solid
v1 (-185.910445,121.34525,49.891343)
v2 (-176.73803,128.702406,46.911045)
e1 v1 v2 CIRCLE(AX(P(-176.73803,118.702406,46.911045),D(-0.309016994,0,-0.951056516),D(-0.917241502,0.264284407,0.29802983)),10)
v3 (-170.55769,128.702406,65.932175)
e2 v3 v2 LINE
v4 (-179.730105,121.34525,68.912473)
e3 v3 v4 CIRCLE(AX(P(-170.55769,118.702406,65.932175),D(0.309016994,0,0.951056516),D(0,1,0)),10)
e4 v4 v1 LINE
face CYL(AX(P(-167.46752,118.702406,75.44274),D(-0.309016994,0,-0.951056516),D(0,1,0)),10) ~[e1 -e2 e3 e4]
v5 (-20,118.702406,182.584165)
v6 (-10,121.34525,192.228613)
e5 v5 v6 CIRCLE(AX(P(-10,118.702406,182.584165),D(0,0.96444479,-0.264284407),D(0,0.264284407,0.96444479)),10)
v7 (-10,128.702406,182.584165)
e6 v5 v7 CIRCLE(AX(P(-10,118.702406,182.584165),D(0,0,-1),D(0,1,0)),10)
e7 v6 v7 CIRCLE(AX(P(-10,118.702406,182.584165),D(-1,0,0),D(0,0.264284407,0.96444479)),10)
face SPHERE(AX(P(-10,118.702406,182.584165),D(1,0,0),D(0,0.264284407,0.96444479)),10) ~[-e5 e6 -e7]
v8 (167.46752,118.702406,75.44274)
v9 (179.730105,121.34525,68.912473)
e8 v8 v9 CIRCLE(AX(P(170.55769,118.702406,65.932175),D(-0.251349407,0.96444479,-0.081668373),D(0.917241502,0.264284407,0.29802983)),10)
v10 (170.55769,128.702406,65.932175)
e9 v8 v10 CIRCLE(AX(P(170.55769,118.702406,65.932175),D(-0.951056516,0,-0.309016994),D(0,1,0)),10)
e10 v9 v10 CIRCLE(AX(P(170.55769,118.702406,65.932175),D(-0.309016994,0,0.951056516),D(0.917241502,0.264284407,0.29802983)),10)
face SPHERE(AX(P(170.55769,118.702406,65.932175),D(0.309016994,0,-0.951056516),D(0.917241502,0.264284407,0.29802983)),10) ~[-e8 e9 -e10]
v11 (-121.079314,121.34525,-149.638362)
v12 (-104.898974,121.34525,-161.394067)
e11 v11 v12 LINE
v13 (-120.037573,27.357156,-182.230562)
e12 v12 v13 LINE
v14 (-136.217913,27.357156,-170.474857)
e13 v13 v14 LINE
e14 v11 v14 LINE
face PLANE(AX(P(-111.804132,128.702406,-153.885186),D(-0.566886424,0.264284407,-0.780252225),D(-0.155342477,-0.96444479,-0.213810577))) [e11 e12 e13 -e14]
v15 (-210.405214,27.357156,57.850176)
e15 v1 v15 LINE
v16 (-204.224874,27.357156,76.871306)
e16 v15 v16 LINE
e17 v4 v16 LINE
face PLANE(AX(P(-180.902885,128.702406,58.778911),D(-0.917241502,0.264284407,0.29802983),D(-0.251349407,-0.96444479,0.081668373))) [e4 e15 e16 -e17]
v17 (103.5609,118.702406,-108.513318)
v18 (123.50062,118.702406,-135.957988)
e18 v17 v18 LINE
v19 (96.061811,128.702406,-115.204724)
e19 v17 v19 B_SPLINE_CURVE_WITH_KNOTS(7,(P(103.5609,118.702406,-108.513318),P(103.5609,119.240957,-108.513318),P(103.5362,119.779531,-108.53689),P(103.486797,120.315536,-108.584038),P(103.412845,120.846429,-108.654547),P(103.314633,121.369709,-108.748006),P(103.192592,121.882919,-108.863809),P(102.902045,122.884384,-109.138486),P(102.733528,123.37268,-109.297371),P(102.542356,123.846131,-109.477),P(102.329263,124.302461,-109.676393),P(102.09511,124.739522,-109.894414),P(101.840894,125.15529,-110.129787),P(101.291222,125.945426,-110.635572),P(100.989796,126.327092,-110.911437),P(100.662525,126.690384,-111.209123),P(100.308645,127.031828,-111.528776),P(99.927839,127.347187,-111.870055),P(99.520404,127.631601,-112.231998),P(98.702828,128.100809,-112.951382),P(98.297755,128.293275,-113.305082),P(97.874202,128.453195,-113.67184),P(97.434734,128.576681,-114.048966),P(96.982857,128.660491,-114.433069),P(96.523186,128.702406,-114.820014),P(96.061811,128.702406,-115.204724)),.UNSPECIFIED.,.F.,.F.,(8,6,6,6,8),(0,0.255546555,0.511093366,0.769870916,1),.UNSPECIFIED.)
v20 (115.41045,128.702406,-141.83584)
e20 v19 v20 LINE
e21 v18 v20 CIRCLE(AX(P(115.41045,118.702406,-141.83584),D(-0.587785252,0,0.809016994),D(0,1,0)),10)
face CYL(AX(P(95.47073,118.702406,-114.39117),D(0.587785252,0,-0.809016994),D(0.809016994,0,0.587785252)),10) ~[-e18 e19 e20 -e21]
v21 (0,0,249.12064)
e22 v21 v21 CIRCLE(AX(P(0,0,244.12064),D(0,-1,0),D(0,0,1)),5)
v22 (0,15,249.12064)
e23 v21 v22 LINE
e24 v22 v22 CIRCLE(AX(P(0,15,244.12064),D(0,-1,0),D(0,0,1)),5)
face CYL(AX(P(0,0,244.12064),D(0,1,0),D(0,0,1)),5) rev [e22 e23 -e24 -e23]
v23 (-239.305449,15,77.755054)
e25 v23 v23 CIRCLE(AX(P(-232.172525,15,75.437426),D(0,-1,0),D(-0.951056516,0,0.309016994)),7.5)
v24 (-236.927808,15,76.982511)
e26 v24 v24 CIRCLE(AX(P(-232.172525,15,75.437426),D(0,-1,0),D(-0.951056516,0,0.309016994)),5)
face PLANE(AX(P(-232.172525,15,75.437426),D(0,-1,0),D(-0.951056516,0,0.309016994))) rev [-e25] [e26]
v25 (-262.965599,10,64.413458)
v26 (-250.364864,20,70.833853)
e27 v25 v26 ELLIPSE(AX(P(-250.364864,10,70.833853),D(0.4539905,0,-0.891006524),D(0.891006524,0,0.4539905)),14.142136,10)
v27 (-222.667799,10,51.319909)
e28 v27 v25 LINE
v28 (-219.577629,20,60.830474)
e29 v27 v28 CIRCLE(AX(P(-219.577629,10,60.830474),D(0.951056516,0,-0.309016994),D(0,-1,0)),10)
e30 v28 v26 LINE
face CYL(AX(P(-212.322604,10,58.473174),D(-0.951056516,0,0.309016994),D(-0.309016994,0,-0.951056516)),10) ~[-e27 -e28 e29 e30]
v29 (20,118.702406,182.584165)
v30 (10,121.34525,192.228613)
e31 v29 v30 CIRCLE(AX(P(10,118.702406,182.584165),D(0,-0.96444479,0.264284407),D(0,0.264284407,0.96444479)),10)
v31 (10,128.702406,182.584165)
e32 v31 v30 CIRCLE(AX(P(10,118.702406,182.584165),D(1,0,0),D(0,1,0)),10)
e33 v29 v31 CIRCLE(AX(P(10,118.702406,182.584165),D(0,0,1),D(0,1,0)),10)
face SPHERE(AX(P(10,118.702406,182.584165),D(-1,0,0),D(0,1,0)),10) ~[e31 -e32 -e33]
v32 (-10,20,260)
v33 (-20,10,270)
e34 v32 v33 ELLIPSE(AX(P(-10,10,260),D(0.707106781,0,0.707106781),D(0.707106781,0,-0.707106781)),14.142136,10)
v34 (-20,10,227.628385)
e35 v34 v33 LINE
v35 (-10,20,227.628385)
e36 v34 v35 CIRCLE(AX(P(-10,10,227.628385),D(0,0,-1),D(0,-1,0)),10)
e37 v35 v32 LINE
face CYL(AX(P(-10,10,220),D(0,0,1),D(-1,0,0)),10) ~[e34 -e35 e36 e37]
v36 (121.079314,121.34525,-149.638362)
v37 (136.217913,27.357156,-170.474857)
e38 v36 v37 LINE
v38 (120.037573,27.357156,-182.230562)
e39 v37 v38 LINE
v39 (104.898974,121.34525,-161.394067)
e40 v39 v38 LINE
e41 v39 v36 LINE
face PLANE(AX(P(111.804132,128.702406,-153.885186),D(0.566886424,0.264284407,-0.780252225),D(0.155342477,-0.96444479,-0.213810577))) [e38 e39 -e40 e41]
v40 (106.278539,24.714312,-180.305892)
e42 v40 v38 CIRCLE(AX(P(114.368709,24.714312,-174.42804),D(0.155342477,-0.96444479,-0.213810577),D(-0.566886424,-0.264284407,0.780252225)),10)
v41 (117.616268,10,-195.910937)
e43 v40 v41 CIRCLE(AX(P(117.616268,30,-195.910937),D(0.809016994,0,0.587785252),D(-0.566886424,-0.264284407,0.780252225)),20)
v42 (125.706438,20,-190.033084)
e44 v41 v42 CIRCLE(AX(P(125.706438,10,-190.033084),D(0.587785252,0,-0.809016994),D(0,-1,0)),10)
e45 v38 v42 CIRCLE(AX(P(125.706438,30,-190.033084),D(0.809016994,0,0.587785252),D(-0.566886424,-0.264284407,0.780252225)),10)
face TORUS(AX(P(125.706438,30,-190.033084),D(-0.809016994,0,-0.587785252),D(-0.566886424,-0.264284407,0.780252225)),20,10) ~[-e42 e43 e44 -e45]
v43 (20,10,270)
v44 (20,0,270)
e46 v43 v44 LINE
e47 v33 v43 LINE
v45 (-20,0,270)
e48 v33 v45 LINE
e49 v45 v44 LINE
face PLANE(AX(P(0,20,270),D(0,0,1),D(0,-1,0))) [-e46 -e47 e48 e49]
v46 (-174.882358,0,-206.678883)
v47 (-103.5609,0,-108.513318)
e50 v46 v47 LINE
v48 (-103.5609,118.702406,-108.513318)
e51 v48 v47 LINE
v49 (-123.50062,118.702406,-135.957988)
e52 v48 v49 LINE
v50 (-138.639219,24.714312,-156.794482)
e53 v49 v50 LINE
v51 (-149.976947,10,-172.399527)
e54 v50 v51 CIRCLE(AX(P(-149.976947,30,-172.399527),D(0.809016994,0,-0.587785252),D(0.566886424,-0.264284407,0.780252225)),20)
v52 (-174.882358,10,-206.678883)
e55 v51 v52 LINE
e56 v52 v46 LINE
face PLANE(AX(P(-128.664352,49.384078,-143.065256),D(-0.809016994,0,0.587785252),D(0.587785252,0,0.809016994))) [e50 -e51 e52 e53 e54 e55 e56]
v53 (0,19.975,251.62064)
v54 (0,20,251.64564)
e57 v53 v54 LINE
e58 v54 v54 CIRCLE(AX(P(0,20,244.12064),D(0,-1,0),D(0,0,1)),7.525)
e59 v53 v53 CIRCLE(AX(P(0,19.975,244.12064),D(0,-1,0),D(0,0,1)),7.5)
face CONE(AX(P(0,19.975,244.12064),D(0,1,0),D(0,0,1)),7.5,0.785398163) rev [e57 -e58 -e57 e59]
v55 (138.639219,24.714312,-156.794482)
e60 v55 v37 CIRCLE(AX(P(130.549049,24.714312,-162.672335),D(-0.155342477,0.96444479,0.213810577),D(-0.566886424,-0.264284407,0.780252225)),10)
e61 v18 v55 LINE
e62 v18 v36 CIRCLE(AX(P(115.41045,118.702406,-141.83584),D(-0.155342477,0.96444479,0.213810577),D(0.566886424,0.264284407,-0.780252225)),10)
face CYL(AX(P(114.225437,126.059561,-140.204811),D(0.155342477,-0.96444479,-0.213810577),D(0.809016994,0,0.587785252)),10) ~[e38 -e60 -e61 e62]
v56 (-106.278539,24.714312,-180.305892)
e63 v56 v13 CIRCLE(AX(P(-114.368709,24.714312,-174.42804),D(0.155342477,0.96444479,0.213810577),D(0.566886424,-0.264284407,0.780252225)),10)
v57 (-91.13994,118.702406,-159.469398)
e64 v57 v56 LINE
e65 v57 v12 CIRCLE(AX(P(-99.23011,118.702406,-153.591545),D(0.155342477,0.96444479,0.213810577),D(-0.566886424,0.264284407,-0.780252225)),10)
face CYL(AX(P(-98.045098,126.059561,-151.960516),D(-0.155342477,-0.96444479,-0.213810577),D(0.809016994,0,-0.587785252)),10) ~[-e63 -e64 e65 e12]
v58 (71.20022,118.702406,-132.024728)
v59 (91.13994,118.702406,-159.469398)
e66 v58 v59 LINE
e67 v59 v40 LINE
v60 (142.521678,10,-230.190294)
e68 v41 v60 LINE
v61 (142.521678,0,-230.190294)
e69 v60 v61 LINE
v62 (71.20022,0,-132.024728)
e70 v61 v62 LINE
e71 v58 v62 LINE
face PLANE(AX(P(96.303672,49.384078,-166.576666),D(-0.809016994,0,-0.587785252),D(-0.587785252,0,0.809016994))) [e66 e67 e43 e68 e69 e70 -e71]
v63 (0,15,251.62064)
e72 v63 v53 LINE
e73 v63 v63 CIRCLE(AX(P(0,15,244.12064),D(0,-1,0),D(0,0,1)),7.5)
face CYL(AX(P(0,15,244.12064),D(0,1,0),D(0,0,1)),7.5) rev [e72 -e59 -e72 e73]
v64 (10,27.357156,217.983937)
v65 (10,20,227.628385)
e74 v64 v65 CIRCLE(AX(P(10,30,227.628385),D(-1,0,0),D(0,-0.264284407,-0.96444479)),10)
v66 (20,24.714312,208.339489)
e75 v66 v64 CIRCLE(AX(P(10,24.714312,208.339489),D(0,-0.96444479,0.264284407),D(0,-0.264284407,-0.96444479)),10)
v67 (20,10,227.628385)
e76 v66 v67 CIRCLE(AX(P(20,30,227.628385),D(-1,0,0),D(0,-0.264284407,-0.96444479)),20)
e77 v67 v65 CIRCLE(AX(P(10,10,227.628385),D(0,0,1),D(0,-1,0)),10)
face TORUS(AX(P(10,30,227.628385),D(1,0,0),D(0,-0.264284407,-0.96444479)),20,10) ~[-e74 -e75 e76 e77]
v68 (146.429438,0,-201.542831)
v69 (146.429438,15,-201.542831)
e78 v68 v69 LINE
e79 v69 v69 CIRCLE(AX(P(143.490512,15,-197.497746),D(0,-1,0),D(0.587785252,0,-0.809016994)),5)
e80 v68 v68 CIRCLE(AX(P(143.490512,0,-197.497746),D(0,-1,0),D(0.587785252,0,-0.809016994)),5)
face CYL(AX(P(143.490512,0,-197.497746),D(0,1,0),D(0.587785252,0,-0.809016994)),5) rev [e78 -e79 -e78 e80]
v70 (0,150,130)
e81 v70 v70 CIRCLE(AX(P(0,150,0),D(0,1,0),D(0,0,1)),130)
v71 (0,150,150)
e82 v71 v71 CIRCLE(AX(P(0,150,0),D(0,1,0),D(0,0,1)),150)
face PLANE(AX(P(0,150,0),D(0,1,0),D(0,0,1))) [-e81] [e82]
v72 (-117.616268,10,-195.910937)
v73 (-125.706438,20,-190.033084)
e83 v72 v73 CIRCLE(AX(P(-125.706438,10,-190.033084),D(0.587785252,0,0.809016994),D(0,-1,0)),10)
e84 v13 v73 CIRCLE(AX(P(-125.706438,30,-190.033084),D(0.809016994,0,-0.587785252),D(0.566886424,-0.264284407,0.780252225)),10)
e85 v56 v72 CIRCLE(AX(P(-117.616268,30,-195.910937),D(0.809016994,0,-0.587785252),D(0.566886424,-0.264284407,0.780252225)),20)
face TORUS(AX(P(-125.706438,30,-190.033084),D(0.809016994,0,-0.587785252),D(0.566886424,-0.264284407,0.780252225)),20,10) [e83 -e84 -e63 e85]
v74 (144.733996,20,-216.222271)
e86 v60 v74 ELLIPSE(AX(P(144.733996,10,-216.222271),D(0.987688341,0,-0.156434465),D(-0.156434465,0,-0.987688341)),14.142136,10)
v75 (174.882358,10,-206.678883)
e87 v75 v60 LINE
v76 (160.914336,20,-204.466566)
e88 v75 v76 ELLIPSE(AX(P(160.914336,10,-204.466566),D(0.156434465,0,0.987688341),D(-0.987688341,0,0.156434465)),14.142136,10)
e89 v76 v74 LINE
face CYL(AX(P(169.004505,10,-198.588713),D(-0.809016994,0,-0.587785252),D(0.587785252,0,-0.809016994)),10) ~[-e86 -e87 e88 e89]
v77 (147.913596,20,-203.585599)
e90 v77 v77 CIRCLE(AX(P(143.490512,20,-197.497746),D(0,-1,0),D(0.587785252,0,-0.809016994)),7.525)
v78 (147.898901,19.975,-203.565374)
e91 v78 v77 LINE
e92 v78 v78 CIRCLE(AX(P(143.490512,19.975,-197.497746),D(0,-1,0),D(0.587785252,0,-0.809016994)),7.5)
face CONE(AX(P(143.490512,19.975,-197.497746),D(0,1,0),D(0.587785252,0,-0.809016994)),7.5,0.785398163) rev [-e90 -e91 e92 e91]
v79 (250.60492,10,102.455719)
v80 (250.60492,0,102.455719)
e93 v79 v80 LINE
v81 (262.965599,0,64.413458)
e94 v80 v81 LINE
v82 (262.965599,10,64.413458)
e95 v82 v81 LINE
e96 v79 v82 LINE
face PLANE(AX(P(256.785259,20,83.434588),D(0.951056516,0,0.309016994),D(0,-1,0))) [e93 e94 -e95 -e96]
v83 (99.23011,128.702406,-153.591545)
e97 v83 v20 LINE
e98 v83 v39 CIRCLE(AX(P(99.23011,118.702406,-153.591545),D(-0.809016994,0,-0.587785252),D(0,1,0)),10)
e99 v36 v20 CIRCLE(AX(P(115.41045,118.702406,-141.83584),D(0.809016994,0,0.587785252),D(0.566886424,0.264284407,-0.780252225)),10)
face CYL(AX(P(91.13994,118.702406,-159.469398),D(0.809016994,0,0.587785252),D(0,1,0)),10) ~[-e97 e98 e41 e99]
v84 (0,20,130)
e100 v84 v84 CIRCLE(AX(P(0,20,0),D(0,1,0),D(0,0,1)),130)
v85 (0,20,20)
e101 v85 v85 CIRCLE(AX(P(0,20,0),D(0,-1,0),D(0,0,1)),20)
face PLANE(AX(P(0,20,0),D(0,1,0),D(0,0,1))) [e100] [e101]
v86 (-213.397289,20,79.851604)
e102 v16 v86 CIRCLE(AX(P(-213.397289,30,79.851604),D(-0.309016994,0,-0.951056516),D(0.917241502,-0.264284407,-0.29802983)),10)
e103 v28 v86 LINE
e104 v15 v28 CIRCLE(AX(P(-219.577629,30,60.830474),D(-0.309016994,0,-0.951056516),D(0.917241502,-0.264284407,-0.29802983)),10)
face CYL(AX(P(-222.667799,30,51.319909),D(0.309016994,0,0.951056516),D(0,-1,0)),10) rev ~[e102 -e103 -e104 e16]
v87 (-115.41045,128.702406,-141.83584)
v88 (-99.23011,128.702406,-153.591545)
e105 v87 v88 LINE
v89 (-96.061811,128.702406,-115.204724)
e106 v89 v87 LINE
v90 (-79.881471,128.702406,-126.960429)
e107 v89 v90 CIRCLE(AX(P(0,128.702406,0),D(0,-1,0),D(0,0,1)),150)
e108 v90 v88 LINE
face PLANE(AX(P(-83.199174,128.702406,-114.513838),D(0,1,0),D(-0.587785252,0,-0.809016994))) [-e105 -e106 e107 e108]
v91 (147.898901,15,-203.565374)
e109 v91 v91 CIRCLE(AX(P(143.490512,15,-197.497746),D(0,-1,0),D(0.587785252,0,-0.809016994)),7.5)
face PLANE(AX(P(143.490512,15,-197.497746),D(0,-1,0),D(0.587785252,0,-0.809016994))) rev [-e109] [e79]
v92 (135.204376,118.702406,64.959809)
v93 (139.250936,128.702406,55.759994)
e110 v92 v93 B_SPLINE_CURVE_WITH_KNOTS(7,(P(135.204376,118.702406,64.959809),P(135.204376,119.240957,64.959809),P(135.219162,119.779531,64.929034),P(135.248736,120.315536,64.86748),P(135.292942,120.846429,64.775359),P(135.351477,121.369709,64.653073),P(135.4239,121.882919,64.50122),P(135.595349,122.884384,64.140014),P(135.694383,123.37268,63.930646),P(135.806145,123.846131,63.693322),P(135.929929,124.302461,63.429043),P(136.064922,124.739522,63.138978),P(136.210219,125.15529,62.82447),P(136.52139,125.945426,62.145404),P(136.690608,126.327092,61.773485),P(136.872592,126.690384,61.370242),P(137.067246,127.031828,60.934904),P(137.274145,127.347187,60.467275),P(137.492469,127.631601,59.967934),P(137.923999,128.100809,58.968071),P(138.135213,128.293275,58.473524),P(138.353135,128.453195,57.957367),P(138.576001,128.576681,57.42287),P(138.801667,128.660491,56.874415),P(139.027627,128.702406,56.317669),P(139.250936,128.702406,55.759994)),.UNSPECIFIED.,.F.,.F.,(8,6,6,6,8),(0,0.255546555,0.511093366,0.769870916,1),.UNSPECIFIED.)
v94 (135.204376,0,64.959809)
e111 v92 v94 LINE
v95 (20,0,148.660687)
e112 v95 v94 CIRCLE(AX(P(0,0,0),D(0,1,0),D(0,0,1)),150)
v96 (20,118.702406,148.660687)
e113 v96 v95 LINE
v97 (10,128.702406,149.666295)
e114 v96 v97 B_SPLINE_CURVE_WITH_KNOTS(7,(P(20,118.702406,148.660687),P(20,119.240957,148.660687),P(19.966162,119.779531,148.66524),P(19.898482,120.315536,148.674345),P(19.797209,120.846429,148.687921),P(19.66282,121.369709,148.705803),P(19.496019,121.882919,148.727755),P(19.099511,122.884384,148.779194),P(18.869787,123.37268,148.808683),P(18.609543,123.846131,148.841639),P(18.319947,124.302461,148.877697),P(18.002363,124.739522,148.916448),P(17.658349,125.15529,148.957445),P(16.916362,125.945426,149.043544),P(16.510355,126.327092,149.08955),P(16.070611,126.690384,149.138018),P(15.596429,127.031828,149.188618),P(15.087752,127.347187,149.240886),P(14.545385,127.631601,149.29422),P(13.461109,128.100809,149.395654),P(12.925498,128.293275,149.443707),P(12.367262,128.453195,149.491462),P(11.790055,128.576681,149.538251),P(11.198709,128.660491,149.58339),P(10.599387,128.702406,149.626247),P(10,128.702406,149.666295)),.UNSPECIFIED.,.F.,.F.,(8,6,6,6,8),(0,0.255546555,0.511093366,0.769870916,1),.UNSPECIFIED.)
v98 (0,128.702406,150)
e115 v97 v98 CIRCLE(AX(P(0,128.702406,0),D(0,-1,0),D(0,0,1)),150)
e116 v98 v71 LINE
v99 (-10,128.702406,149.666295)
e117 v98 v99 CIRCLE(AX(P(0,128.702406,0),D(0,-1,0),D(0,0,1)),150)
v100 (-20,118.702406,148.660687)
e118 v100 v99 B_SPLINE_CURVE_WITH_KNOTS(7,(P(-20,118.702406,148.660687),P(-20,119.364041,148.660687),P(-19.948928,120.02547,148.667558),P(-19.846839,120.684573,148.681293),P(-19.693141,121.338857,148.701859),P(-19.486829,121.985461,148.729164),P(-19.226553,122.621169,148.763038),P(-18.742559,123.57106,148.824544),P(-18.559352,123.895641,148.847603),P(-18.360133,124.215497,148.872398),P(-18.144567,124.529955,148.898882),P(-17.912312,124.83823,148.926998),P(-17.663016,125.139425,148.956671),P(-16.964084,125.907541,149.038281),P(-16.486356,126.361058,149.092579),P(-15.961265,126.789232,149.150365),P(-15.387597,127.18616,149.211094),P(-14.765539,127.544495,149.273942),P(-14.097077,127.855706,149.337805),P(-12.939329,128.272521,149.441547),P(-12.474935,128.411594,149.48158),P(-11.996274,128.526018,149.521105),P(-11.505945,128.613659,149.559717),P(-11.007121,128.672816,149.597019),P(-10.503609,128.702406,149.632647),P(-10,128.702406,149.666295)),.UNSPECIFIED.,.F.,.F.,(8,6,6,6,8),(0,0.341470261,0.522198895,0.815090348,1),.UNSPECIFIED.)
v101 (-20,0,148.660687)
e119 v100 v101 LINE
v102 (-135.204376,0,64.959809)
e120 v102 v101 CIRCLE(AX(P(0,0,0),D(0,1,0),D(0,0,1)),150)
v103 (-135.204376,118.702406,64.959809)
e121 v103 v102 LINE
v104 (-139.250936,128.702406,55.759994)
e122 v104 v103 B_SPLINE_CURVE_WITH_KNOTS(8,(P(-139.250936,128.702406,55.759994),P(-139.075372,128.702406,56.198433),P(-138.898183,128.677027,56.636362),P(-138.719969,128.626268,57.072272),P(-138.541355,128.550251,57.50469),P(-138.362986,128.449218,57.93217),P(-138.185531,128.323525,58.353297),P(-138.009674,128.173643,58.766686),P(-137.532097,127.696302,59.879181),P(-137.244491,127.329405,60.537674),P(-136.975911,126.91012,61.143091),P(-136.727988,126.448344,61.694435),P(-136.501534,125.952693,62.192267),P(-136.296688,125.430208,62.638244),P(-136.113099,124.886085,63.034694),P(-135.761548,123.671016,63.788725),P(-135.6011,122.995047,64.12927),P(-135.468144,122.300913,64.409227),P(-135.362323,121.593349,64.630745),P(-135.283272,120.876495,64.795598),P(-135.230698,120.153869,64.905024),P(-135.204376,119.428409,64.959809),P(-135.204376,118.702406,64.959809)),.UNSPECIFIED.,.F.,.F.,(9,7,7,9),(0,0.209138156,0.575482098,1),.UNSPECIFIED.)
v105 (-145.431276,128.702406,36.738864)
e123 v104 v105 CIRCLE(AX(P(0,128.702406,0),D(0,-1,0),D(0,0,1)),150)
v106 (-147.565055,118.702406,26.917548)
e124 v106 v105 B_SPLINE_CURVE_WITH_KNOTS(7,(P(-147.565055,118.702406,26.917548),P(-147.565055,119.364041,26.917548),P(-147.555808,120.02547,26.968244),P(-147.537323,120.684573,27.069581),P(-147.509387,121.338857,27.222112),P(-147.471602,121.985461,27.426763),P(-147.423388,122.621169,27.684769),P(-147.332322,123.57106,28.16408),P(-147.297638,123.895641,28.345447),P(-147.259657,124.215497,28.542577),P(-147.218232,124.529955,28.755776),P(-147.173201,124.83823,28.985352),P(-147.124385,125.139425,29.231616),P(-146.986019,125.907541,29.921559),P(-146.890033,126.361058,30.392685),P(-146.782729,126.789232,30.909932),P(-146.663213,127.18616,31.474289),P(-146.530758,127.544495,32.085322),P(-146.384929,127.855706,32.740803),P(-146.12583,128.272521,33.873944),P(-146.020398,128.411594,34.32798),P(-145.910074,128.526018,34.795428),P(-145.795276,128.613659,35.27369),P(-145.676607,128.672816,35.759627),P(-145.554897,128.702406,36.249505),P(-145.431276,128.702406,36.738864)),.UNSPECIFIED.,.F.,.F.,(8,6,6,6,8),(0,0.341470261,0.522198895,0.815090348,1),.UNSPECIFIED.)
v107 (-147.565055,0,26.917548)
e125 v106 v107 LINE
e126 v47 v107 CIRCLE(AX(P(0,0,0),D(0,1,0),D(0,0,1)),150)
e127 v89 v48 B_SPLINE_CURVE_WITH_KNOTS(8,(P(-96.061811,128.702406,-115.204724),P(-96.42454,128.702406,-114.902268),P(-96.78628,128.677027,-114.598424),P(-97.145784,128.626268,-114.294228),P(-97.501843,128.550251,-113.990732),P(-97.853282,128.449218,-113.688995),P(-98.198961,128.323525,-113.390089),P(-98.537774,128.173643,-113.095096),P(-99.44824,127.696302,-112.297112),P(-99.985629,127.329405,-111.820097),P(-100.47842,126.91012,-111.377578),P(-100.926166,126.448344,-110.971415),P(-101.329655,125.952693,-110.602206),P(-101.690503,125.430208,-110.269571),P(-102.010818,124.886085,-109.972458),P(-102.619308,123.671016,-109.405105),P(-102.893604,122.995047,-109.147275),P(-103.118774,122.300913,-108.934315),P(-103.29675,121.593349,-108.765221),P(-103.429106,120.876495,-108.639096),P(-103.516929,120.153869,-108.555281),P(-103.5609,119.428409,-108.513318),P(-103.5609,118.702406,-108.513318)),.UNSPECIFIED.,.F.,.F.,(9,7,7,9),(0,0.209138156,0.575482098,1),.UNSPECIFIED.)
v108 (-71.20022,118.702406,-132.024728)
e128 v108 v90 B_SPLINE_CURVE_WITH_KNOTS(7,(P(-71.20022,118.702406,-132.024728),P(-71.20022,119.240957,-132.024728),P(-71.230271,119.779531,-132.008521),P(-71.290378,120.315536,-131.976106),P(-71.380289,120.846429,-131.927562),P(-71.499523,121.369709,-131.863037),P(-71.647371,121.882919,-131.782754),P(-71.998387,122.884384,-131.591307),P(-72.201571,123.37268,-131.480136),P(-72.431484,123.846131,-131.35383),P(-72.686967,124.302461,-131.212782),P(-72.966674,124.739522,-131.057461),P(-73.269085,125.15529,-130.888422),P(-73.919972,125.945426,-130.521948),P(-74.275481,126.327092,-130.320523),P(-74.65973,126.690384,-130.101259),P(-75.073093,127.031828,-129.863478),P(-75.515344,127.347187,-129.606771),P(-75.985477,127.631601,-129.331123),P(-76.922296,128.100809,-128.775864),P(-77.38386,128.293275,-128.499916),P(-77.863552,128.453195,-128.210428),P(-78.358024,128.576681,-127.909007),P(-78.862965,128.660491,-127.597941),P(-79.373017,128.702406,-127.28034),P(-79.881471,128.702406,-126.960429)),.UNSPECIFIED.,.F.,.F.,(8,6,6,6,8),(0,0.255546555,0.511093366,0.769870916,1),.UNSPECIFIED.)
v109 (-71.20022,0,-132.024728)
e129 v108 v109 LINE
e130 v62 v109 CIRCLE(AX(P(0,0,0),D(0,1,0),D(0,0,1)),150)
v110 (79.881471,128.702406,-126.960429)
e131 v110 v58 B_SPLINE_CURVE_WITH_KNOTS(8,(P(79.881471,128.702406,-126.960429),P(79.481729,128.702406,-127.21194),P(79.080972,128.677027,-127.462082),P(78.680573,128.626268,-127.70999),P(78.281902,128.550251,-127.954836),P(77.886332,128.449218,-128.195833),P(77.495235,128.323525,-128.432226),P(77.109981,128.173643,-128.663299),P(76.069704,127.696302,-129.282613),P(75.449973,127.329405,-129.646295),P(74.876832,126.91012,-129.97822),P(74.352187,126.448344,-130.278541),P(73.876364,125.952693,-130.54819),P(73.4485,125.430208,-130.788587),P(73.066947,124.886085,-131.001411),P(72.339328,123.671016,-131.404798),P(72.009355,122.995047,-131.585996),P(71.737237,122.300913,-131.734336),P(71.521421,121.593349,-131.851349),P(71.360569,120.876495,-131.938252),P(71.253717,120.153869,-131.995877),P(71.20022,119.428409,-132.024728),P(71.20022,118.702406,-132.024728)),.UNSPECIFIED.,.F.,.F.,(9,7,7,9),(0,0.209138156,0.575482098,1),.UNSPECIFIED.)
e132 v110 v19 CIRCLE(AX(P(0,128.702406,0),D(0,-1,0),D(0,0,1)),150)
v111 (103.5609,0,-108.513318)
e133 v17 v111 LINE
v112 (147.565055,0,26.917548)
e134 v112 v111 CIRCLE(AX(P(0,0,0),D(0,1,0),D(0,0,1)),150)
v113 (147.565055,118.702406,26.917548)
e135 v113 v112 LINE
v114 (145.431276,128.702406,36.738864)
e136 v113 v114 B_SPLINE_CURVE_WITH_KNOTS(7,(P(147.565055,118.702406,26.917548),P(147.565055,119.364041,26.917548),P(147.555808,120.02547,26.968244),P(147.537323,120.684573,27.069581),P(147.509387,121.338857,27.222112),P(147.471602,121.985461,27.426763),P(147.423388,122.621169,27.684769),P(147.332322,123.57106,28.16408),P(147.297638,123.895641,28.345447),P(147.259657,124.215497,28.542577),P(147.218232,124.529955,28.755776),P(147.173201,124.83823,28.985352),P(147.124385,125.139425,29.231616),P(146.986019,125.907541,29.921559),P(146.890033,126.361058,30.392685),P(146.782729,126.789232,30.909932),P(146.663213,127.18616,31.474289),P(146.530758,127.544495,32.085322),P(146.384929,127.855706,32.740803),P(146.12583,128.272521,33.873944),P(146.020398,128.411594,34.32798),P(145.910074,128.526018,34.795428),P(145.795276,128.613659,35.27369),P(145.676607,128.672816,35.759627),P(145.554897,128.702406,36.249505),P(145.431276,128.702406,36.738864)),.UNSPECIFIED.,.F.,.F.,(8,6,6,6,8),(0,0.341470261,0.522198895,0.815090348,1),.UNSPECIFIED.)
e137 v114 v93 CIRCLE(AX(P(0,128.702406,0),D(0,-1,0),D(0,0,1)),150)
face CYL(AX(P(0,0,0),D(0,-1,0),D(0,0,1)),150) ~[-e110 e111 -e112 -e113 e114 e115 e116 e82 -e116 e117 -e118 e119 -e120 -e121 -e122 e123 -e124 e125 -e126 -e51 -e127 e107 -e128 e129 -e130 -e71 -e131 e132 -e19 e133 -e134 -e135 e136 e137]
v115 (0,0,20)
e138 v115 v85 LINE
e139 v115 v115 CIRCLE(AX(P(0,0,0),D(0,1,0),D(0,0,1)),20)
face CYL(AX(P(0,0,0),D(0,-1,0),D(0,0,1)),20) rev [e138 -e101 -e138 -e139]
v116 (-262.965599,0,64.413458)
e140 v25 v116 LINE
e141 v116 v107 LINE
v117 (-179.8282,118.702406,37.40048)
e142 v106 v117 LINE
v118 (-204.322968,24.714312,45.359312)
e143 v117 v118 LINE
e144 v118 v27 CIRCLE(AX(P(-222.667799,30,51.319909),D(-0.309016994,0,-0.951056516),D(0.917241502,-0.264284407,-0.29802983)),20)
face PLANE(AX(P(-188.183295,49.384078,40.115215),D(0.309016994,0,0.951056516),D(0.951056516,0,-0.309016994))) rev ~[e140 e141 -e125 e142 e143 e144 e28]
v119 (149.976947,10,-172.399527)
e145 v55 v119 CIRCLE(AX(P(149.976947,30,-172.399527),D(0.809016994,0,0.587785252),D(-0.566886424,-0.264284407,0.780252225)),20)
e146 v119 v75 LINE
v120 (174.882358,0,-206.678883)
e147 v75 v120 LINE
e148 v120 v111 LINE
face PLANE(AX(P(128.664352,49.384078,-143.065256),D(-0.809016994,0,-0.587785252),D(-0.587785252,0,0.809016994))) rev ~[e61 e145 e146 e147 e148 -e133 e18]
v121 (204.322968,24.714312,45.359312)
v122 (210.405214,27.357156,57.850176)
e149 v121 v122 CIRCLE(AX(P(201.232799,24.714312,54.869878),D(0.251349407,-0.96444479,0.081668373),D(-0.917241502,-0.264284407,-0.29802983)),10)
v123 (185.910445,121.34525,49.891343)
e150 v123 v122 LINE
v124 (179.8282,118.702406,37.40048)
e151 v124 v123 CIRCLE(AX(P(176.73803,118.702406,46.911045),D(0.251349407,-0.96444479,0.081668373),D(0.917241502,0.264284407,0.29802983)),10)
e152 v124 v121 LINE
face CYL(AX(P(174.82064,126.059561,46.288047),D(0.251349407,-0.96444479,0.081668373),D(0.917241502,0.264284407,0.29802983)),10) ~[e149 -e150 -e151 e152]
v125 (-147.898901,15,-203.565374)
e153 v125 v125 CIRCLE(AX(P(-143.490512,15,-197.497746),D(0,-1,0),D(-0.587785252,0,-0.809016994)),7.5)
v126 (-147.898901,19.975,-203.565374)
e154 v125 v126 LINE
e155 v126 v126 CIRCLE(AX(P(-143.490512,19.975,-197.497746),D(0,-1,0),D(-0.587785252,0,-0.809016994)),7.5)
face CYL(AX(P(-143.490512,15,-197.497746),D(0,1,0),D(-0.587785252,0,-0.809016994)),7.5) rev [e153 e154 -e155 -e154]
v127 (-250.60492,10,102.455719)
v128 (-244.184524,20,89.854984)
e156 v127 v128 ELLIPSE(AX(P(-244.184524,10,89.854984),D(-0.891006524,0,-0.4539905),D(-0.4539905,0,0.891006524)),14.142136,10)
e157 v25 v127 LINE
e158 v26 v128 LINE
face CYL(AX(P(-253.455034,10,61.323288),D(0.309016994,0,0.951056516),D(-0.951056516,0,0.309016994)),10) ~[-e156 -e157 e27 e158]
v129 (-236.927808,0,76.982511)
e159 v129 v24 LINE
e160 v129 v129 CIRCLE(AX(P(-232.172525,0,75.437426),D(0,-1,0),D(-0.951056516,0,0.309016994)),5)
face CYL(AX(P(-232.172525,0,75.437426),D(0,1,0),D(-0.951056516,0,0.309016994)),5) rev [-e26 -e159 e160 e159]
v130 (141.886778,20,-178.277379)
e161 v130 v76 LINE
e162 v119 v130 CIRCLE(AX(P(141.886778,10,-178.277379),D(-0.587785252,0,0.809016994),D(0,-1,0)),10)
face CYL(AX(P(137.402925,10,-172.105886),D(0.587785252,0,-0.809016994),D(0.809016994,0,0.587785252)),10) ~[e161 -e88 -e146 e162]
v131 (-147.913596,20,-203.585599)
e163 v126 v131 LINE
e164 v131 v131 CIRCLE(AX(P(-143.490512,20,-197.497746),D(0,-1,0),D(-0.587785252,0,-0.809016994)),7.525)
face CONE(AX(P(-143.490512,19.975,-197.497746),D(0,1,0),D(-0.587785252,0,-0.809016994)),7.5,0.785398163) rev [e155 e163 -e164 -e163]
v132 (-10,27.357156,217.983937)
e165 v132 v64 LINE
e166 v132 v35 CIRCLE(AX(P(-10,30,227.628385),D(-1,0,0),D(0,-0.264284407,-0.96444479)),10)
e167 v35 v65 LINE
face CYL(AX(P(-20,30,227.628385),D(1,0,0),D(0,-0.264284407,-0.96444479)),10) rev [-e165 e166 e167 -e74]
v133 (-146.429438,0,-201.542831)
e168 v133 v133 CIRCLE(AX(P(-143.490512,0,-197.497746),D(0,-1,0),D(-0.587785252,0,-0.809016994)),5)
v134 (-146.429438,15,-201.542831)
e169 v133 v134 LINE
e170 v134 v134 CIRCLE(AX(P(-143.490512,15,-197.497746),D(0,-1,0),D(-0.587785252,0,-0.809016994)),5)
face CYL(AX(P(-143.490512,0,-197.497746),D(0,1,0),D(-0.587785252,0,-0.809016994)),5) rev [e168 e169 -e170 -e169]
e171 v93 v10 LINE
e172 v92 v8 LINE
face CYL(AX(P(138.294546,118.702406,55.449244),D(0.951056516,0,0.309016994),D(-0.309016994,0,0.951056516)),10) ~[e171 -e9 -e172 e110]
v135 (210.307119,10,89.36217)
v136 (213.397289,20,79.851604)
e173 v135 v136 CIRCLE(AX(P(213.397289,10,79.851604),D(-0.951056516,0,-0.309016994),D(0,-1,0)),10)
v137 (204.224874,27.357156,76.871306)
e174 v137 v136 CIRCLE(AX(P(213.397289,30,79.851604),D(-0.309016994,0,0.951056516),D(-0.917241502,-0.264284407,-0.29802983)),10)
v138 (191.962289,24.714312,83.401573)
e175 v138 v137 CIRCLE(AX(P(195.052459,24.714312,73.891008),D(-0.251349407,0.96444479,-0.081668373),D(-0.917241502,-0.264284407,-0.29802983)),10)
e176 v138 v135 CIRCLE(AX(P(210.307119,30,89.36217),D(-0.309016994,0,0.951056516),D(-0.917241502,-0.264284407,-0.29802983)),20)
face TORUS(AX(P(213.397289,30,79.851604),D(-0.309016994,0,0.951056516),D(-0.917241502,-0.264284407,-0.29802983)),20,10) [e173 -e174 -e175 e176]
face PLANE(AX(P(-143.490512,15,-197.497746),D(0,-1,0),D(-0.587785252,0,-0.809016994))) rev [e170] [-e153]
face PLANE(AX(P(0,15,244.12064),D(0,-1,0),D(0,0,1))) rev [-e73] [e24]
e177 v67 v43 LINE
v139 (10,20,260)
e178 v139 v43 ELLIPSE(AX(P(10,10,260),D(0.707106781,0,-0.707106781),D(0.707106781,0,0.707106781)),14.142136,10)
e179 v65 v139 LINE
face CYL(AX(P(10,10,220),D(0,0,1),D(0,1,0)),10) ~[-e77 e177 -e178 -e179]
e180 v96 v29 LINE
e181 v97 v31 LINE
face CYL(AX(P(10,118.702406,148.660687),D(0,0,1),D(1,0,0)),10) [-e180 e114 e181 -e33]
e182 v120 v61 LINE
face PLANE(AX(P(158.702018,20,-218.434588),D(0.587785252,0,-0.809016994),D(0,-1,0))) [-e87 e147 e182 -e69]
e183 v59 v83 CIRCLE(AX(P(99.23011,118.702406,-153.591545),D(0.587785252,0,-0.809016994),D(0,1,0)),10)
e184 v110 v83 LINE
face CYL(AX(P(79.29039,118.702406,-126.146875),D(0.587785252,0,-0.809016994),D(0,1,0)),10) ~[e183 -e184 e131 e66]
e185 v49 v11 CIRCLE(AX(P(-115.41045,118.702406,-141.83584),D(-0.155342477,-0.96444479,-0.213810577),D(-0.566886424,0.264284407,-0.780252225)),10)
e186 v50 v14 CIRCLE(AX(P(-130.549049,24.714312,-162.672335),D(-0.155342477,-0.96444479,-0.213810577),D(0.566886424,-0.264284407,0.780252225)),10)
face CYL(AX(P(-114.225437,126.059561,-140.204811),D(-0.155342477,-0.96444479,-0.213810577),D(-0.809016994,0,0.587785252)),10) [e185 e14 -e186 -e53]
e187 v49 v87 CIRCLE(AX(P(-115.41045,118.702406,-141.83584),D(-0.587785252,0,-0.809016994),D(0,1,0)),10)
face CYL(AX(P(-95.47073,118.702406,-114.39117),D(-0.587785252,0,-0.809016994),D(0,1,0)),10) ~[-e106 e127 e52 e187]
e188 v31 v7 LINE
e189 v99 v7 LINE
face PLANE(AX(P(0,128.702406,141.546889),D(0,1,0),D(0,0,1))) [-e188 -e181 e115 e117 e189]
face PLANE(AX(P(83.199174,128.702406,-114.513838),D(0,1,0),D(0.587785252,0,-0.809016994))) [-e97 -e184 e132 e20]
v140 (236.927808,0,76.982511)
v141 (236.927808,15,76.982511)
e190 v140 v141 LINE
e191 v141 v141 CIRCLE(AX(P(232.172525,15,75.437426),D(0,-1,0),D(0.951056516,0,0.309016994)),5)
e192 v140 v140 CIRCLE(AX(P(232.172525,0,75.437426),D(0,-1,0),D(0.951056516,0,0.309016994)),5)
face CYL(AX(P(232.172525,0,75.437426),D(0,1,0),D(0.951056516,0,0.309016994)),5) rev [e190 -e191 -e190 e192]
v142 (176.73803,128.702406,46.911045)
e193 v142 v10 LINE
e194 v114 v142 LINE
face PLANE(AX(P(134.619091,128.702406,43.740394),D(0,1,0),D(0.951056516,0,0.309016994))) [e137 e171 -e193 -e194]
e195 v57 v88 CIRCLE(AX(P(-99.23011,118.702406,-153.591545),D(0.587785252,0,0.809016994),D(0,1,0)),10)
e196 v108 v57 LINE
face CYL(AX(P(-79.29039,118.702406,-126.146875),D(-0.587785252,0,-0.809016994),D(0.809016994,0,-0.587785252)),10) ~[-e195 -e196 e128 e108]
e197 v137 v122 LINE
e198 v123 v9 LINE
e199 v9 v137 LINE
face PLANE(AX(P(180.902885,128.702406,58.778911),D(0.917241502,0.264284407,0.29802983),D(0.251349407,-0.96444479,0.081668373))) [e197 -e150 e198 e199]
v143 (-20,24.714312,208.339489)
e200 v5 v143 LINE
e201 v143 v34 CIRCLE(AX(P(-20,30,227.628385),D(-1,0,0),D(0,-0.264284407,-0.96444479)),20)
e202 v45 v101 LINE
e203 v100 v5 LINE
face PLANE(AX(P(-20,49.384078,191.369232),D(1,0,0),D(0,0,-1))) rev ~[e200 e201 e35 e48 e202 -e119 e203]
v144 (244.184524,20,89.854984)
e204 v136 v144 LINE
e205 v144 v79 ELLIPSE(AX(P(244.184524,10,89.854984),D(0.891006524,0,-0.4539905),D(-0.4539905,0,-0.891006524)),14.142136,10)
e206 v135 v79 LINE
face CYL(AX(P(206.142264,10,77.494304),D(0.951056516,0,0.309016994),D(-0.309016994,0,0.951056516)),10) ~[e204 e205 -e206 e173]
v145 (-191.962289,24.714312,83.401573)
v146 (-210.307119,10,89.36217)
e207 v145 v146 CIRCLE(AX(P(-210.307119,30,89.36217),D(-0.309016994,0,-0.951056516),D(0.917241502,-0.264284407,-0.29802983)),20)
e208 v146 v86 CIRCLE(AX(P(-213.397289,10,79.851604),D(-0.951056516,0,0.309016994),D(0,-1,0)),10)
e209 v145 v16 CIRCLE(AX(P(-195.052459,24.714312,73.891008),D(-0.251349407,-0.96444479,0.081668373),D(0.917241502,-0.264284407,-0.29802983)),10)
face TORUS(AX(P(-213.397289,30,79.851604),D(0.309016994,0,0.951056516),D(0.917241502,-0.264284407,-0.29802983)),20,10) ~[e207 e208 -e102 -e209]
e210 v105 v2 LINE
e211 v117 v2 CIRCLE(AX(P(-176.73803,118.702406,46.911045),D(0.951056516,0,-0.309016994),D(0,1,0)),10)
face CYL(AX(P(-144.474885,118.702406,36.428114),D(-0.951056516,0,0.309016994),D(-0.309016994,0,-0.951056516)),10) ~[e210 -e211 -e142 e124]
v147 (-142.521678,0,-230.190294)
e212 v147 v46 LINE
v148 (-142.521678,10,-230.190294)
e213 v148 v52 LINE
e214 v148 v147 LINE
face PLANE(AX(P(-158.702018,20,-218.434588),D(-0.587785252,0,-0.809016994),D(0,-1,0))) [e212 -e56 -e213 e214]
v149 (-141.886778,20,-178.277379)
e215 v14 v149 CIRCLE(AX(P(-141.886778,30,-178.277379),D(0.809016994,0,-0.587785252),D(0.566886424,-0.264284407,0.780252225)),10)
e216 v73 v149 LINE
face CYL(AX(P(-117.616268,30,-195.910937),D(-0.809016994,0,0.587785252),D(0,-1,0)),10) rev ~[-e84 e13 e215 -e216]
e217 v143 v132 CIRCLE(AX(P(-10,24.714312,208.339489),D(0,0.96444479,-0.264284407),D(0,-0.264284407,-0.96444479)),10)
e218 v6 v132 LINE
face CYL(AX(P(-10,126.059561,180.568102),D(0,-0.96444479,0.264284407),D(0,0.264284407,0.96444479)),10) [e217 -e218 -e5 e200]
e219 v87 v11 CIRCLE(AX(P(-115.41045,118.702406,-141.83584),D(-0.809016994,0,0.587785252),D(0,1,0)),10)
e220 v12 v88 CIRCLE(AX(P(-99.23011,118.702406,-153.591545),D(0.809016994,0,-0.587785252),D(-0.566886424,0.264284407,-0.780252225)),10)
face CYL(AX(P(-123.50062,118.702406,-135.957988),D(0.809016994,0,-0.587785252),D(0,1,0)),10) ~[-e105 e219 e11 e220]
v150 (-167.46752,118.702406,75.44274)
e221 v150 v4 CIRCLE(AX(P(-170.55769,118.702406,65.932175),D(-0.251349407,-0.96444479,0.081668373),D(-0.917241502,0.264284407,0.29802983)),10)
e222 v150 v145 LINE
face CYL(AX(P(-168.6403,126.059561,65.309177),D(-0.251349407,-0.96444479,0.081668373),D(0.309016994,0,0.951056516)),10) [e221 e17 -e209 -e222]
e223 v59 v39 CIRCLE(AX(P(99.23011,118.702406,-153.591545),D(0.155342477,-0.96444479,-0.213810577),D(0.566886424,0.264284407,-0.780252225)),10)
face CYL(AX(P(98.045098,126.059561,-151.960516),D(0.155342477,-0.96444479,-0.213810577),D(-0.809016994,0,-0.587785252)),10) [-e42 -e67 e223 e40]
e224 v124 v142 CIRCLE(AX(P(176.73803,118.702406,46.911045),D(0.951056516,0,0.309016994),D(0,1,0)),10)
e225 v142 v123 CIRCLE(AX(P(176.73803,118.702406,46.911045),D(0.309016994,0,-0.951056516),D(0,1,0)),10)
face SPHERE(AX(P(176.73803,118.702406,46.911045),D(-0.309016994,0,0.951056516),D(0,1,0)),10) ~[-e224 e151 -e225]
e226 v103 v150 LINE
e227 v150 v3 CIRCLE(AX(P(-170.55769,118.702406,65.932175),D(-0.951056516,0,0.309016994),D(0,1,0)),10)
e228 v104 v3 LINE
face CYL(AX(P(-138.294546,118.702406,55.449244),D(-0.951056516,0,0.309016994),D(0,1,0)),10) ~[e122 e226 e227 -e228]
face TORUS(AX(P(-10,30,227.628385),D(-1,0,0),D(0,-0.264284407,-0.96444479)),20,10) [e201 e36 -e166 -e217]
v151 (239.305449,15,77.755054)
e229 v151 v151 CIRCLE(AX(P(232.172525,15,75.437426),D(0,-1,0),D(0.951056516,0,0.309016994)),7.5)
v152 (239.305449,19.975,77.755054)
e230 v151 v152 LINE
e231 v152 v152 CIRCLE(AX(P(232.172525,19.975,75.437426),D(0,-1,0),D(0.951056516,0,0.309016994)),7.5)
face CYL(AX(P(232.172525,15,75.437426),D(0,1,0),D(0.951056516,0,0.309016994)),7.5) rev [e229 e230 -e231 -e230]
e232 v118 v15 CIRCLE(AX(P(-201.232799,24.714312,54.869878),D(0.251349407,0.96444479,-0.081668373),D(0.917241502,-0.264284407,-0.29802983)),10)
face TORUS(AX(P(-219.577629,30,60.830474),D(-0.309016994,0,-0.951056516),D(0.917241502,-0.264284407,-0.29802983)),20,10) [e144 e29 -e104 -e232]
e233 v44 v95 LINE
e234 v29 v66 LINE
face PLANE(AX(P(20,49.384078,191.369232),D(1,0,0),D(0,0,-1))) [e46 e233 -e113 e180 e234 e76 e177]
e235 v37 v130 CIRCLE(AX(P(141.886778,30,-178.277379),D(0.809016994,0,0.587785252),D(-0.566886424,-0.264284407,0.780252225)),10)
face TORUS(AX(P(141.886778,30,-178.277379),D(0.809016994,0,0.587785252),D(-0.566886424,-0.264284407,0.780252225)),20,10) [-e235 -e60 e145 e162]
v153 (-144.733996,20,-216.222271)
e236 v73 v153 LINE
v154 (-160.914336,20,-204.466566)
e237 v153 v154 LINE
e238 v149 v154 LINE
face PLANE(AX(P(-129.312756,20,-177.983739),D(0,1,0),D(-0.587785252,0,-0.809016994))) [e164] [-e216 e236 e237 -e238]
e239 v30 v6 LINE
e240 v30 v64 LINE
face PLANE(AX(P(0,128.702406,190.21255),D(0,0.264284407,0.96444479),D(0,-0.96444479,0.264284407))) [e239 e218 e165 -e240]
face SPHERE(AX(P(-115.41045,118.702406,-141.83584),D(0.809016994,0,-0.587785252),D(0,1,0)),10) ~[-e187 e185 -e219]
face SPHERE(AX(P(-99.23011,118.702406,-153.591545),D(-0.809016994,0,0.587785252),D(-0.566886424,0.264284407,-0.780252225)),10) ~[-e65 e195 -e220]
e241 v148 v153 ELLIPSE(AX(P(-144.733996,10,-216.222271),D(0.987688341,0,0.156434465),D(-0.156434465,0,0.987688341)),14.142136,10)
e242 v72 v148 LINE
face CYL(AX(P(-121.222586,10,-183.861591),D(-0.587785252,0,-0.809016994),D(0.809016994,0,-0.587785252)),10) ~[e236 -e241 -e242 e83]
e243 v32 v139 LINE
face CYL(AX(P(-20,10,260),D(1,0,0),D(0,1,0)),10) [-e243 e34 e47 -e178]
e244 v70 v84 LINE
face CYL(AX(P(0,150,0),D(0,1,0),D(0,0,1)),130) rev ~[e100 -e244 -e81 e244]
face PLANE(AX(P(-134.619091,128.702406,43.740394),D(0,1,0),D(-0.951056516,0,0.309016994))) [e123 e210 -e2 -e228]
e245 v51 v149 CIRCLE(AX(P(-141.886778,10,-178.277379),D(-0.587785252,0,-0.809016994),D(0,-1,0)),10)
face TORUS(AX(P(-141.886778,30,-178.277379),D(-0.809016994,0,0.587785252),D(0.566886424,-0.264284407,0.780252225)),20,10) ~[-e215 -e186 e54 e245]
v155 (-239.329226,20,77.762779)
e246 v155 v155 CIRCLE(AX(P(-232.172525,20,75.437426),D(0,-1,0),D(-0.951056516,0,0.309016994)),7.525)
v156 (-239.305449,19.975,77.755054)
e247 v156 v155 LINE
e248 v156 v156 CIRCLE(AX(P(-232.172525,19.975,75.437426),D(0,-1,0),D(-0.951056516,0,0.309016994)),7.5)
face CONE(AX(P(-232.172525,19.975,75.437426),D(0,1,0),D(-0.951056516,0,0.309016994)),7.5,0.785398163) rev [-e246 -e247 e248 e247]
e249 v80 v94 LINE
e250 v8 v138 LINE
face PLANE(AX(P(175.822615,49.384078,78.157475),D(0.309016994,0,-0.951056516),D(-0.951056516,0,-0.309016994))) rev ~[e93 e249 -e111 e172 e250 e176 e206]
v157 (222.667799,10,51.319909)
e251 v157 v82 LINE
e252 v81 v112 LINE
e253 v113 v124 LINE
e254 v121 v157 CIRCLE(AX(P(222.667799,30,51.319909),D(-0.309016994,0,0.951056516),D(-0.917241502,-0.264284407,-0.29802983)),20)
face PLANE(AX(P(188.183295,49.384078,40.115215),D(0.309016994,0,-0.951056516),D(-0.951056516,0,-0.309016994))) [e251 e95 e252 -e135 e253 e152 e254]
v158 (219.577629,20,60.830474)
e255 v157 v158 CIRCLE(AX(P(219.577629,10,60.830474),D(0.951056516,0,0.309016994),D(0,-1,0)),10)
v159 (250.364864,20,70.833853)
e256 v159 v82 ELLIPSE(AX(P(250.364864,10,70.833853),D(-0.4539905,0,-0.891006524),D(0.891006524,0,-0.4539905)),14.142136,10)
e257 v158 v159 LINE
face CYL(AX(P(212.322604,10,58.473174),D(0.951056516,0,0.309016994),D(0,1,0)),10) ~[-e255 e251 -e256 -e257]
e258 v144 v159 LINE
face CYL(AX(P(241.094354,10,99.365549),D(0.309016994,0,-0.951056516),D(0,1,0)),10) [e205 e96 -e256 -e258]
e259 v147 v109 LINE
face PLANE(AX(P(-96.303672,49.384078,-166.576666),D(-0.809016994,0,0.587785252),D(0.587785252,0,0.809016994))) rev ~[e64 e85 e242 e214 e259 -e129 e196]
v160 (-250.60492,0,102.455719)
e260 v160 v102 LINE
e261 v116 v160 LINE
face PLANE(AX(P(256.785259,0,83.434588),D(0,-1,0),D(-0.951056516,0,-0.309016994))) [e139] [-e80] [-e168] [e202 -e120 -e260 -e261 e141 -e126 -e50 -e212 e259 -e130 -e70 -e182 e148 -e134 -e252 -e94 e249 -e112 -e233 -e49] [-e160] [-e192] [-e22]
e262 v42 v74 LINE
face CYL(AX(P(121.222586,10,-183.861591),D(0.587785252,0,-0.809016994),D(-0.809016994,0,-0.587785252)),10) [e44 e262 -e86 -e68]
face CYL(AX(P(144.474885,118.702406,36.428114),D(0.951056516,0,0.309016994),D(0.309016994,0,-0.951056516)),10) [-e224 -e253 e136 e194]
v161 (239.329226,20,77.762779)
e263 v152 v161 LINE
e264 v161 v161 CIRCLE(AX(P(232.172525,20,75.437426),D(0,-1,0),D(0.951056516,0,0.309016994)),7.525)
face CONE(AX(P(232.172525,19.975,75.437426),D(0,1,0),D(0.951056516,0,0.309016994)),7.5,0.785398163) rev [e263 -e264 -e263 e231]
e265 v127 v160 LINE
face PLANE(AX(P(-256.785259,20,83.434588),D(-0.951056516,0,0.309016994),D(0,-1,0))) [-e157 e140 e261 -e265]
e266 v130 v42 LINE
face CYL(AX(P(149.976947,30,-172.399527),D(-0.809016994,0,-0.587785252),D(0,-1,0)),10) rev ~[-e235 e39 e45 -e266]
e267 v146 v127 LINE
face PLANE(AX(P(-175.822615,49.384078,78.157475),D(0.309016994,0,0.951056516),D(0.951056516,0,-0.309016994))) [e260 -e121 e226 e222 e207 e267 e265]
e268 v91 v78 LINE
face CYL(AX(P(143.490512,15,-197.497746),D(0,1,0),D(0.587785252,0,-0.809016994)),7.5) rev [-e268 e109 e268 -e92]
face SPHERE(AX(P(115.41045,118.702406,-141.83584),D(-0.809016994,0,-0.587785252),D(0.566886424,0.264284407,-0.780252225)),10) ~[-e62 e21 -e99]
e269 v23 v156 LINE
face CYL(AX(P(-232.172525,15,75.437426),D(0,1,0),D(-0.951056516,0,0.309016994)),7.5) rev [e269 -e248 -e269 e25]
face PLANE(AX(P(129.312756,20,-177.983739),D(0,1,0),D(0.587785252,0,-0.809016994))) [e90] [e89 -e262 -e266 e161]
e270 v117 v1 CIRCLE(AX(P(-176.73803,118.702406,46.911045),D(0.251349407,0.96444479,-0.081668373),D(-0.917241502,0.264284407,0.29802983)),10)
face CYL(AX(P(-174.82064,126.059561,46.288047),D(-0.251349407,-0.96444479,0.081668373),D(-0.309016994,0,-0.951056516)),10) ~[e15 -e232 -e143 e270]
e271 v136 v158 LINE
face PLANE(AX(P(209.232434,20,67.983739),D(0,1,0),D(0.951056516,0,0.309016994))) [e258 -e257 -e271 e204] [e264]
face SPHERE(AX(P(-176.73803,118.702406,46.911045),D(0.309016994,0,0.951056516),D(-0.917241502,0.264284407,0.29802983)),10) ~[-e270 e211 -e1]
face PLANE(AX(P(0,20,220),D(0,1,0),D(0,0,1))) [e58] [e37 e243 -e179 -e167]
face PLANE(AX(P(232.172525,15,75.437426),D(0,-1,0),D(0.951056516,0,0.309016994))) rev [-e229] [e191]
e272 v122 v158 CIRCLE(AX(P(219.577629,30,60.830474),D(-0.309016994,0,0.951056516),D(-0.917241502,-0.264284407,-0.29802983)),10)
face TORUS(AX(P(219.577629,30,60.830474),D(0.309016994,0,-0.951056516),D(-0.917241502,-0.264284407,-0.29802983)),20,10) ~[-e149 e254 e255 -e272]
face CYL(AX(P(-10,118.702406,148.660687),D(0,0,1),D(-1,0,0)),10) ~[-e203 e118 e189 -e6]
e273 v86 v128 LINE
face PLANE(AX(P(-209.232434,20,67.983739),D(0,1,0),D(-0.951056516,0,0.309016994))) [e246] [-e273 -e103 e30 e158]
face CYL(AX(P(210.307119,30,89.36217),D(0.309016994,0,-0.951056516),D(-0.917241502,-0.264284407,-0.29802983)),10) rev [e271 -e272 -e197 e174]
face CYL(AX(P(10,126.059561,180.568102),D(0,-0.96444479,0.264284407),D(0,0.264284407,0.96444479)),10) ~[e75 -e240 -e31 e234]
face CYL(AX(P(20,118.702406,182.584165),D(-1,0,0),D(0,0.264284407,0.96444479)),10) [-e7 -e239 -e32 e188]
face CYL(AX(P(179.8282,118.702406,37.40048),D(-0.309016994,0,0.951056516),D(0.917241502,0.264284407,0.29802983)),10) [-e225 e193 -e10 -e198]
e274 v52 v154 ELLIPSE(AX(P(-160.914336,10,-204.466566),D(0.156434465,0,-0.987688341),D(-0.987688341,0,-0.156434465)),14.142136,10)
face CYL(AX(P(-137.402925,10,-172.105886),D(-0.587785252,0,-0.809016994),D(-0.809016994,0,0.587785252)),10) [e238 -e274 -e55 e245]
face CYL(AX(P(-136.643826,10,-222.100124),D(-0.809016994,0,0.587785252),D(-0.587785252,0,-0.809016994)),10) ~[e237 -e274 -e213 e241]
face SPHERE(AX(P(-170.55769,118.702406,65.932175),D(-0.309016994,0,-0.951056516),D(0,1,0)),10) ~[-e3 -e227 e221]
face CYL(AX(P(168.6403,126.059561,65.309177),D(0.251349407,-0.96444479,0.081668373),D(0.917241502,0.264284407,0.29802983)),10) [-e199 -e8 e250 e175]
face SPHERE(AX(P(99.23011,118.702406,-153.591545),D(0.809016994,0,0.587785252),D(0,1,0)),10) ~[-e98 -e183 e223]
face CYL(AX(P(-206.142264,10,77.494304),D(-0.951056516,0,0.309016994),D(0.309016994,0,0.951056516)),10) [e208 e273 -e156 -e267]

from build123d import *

# Parameters (mm, degrees)
CROQUIS4_R              = 150
SALIENTE_EXTRUIR3_DEPTH = 150
CROQUIS7_R              = 130
CORTAR_EXTRUIR1_DEPTH   = 130
SALIENTE_EXTRUIR5_DEPTH = 20
REDONDEO1_R             = 10
MATRIZC1_COUNT          = 5
REDONDEO1_OF_MATRIZC1_R = 10
CROQUIS13_R             = 20
CORTAR_EXTRUIR2_DEPTH   = 406.648747611


with BuildPart() as part:
    # Croquis4 → Saliente-Extruir3 (new body)
    with BuildSketch(Plane(origin=(0, 0, 0), x_dir=(1, 0, 0), z_dir=(0, 1, 0))):
        with Locations(Location((0, 0, 0), (0, 0, 270))):
            Circle(CROQUIS4_R)
    extrude(amount=SALIENTE_EXTRUIR3_DEPTH)

    # Croquis7 → Cortar-Extruir1 (cut)
    with BuildSketch(Plane(origin=(0, 150, 0), x_dir=(1, 0, 0), z_dir=(0, 1, 0))):
        with Locations(Location((0, 0, 0), (0, 0, 270))):
            Circle(CROQUIS7_R)
    extrude(amount=-CORTAR_EXTRUIR1_DEPTH, mode=Mode.SUBTRACT)

    # Croquis8 → Saliente-Extruir5 (add, symmetric)
    with BuildSketch(Plane(origin=(0, 0, 0), x_dir=(0, 0, -1), z_dir=(1, 0, 0))):
        Polygon((-190.212550173, 128.702405531), (-220, 20), (-270, 20), (-270, 0), (-141.546888578, 0), (-141.546888578, 128.702405531), align=None)
    saliente_extruir5 = extrude(amount=SALIENTE_EXTRUIR5_DEPTH, both=True)

    # Redondeo1
    redondeo1_edges = [part.edges().sort_by_distance(p)[0] for p in [
        (20, 128.702405531, 169.436618823),
        (20, 74.351202766, 205.106275086),
        (20, 20, 245),
        (-20, 128.702405531, 169.436618823),
        (0, 128.702405531, 190.212550173),
        (0, 20, 270),
        (-20, 20, 245),
        (0, 20, 220),
        (-20, 74.351202766, 205.106275086),
    ]]
    fillet(redondeo1_edges, radius=REDONDEO1_R)

    # Croquis12 → Refrentado para tornillo con cabeza plana de M81 (revolve, cut)
    with BuildSketch(Plane(origin=(0, 20, 244.12063984), x_dir=(0, 0, 1), z_dir=(1, 0, 0))):
        Polygon((0, 0), (0, 20), (5, 20), (5, 5), (7.5, 5), (7.5, 0.025), (7.525, 0), align=None)
    refrentado_para_tornillo_con_cabeza_plan = revolve(axis=Axis((0, 26.35, 244.12063984), (0, -1, 0)), mode=Mode.SUBTRACT)

    # MatrizC1: Saliente-Extruir5, Refrentado para tornillo con cabeza plana de M81 ×5 about axis
    matrizc1_axis = Axis((0, 0, 0), (0, 1, 0))
    add([saliente_extruir5.rotate(matrizc1_axis, i * 360 / MATRIZC1_COUNT) for i in range(1, MATRIZC1_COUNT)])
    add([refrentado_para_tornillo_con_cabeza_plan.rotate(matrizc1_axis, i * 360 / MATRIZC1_COUNT) for i in range(1, MATRIZC1_COUNT)], mode=Mode.SUBTRACT)

    # Redondeo1 of MatrizC1
    redondeo1_of_matrizc1_edges = [part.edges().sort_by_distance(p)[0] for p in [
        (167.324140318, 128.702405531, 33.33766436),
        (201.247999341, 74.351202766, 44.360194329),
        (239.18918638, 20, 56.688033296),
        (154.963460543, 128.702405531, 71.379925012),
        (180.902885323, 128.702405531, 58.778910547),
        (256.7852594, 20, 83.434588481),
        (226.828506605, 20, 94.730293948),
        (209.232433585, 20, 67.983738762),
        (188.887319566, 74.351202766, 82.402454981),
        (83.412005855, 128.702405531, -148.832809143),
        (104.378103761, 74.351202766, -177.690167244),
        (127.827046924, 20, -209.964868668),
        (115.77268563, 128.702405531, -125.321399051),
        (111.804131793, 128.702405531, -153.885185633),
        (158.702018119, 20, -218.434588481),
        (160.187726699, 20, -186.453458576),
        (129.312755504, 20, -177.983738762),
        (136.738783536, 74.351202766, -154.178757152),
        (-115.77268563, 128.702405531, -125.321399051),
        (-136.738783536, 74.351202766, -154.178757152),
        (-160.187726699, 20, -186.453458576),
        (-83.412005855, 128.702405531, -148.832809143),
        (-111.804131793, 128.702405531, -153.885185633),
        (-158.702018119, 20, -218.434588481),
        (-127.827046924, 20, -209.964868668),
        (-129.312755504, 20, -177.983738762),
        (-104.378103761, 74.351202766, -177.690167244),
        (-154.963460543, 128.702405531, 71.379925012),
        (-188.887319566, 74.351202766, 82.402454981),
        (-226.828506605, 20, 94.730293948),
        (-167.324140318, 128.702405531, 33.33766436),
        (-180.902885323, 128.702405531, 58.778910547),
        (-256.7852594, 20, 83.434588481),
        (-239.18918638, 20, 56.688033296),
        (-209.232433585, 20, 67.983738762),
        (-201.247999341, 74.351202766, 44.360194329),
    ]]
    fillet(redondeo1_of_matrizc1_edges, radius=REDONDEO1_OF_MATRIZC1_R)

    # Croquis13 → Cortar-Extruir2 (cut, through all)
    with BuildSketch(Plane(origin=(0, 0, 0), x_dir=(1, 0, 0), z_dir=(0, 1, 0))):
        with Locations(Location((0, 0, 0), (0, 0, 270))):
            Circle(CROQUIS13_R)
    extrude(amount=CORTAR_EXTRUIR2_DEPTH, mode=Mode.SUBTRACT)


solid = part.part
